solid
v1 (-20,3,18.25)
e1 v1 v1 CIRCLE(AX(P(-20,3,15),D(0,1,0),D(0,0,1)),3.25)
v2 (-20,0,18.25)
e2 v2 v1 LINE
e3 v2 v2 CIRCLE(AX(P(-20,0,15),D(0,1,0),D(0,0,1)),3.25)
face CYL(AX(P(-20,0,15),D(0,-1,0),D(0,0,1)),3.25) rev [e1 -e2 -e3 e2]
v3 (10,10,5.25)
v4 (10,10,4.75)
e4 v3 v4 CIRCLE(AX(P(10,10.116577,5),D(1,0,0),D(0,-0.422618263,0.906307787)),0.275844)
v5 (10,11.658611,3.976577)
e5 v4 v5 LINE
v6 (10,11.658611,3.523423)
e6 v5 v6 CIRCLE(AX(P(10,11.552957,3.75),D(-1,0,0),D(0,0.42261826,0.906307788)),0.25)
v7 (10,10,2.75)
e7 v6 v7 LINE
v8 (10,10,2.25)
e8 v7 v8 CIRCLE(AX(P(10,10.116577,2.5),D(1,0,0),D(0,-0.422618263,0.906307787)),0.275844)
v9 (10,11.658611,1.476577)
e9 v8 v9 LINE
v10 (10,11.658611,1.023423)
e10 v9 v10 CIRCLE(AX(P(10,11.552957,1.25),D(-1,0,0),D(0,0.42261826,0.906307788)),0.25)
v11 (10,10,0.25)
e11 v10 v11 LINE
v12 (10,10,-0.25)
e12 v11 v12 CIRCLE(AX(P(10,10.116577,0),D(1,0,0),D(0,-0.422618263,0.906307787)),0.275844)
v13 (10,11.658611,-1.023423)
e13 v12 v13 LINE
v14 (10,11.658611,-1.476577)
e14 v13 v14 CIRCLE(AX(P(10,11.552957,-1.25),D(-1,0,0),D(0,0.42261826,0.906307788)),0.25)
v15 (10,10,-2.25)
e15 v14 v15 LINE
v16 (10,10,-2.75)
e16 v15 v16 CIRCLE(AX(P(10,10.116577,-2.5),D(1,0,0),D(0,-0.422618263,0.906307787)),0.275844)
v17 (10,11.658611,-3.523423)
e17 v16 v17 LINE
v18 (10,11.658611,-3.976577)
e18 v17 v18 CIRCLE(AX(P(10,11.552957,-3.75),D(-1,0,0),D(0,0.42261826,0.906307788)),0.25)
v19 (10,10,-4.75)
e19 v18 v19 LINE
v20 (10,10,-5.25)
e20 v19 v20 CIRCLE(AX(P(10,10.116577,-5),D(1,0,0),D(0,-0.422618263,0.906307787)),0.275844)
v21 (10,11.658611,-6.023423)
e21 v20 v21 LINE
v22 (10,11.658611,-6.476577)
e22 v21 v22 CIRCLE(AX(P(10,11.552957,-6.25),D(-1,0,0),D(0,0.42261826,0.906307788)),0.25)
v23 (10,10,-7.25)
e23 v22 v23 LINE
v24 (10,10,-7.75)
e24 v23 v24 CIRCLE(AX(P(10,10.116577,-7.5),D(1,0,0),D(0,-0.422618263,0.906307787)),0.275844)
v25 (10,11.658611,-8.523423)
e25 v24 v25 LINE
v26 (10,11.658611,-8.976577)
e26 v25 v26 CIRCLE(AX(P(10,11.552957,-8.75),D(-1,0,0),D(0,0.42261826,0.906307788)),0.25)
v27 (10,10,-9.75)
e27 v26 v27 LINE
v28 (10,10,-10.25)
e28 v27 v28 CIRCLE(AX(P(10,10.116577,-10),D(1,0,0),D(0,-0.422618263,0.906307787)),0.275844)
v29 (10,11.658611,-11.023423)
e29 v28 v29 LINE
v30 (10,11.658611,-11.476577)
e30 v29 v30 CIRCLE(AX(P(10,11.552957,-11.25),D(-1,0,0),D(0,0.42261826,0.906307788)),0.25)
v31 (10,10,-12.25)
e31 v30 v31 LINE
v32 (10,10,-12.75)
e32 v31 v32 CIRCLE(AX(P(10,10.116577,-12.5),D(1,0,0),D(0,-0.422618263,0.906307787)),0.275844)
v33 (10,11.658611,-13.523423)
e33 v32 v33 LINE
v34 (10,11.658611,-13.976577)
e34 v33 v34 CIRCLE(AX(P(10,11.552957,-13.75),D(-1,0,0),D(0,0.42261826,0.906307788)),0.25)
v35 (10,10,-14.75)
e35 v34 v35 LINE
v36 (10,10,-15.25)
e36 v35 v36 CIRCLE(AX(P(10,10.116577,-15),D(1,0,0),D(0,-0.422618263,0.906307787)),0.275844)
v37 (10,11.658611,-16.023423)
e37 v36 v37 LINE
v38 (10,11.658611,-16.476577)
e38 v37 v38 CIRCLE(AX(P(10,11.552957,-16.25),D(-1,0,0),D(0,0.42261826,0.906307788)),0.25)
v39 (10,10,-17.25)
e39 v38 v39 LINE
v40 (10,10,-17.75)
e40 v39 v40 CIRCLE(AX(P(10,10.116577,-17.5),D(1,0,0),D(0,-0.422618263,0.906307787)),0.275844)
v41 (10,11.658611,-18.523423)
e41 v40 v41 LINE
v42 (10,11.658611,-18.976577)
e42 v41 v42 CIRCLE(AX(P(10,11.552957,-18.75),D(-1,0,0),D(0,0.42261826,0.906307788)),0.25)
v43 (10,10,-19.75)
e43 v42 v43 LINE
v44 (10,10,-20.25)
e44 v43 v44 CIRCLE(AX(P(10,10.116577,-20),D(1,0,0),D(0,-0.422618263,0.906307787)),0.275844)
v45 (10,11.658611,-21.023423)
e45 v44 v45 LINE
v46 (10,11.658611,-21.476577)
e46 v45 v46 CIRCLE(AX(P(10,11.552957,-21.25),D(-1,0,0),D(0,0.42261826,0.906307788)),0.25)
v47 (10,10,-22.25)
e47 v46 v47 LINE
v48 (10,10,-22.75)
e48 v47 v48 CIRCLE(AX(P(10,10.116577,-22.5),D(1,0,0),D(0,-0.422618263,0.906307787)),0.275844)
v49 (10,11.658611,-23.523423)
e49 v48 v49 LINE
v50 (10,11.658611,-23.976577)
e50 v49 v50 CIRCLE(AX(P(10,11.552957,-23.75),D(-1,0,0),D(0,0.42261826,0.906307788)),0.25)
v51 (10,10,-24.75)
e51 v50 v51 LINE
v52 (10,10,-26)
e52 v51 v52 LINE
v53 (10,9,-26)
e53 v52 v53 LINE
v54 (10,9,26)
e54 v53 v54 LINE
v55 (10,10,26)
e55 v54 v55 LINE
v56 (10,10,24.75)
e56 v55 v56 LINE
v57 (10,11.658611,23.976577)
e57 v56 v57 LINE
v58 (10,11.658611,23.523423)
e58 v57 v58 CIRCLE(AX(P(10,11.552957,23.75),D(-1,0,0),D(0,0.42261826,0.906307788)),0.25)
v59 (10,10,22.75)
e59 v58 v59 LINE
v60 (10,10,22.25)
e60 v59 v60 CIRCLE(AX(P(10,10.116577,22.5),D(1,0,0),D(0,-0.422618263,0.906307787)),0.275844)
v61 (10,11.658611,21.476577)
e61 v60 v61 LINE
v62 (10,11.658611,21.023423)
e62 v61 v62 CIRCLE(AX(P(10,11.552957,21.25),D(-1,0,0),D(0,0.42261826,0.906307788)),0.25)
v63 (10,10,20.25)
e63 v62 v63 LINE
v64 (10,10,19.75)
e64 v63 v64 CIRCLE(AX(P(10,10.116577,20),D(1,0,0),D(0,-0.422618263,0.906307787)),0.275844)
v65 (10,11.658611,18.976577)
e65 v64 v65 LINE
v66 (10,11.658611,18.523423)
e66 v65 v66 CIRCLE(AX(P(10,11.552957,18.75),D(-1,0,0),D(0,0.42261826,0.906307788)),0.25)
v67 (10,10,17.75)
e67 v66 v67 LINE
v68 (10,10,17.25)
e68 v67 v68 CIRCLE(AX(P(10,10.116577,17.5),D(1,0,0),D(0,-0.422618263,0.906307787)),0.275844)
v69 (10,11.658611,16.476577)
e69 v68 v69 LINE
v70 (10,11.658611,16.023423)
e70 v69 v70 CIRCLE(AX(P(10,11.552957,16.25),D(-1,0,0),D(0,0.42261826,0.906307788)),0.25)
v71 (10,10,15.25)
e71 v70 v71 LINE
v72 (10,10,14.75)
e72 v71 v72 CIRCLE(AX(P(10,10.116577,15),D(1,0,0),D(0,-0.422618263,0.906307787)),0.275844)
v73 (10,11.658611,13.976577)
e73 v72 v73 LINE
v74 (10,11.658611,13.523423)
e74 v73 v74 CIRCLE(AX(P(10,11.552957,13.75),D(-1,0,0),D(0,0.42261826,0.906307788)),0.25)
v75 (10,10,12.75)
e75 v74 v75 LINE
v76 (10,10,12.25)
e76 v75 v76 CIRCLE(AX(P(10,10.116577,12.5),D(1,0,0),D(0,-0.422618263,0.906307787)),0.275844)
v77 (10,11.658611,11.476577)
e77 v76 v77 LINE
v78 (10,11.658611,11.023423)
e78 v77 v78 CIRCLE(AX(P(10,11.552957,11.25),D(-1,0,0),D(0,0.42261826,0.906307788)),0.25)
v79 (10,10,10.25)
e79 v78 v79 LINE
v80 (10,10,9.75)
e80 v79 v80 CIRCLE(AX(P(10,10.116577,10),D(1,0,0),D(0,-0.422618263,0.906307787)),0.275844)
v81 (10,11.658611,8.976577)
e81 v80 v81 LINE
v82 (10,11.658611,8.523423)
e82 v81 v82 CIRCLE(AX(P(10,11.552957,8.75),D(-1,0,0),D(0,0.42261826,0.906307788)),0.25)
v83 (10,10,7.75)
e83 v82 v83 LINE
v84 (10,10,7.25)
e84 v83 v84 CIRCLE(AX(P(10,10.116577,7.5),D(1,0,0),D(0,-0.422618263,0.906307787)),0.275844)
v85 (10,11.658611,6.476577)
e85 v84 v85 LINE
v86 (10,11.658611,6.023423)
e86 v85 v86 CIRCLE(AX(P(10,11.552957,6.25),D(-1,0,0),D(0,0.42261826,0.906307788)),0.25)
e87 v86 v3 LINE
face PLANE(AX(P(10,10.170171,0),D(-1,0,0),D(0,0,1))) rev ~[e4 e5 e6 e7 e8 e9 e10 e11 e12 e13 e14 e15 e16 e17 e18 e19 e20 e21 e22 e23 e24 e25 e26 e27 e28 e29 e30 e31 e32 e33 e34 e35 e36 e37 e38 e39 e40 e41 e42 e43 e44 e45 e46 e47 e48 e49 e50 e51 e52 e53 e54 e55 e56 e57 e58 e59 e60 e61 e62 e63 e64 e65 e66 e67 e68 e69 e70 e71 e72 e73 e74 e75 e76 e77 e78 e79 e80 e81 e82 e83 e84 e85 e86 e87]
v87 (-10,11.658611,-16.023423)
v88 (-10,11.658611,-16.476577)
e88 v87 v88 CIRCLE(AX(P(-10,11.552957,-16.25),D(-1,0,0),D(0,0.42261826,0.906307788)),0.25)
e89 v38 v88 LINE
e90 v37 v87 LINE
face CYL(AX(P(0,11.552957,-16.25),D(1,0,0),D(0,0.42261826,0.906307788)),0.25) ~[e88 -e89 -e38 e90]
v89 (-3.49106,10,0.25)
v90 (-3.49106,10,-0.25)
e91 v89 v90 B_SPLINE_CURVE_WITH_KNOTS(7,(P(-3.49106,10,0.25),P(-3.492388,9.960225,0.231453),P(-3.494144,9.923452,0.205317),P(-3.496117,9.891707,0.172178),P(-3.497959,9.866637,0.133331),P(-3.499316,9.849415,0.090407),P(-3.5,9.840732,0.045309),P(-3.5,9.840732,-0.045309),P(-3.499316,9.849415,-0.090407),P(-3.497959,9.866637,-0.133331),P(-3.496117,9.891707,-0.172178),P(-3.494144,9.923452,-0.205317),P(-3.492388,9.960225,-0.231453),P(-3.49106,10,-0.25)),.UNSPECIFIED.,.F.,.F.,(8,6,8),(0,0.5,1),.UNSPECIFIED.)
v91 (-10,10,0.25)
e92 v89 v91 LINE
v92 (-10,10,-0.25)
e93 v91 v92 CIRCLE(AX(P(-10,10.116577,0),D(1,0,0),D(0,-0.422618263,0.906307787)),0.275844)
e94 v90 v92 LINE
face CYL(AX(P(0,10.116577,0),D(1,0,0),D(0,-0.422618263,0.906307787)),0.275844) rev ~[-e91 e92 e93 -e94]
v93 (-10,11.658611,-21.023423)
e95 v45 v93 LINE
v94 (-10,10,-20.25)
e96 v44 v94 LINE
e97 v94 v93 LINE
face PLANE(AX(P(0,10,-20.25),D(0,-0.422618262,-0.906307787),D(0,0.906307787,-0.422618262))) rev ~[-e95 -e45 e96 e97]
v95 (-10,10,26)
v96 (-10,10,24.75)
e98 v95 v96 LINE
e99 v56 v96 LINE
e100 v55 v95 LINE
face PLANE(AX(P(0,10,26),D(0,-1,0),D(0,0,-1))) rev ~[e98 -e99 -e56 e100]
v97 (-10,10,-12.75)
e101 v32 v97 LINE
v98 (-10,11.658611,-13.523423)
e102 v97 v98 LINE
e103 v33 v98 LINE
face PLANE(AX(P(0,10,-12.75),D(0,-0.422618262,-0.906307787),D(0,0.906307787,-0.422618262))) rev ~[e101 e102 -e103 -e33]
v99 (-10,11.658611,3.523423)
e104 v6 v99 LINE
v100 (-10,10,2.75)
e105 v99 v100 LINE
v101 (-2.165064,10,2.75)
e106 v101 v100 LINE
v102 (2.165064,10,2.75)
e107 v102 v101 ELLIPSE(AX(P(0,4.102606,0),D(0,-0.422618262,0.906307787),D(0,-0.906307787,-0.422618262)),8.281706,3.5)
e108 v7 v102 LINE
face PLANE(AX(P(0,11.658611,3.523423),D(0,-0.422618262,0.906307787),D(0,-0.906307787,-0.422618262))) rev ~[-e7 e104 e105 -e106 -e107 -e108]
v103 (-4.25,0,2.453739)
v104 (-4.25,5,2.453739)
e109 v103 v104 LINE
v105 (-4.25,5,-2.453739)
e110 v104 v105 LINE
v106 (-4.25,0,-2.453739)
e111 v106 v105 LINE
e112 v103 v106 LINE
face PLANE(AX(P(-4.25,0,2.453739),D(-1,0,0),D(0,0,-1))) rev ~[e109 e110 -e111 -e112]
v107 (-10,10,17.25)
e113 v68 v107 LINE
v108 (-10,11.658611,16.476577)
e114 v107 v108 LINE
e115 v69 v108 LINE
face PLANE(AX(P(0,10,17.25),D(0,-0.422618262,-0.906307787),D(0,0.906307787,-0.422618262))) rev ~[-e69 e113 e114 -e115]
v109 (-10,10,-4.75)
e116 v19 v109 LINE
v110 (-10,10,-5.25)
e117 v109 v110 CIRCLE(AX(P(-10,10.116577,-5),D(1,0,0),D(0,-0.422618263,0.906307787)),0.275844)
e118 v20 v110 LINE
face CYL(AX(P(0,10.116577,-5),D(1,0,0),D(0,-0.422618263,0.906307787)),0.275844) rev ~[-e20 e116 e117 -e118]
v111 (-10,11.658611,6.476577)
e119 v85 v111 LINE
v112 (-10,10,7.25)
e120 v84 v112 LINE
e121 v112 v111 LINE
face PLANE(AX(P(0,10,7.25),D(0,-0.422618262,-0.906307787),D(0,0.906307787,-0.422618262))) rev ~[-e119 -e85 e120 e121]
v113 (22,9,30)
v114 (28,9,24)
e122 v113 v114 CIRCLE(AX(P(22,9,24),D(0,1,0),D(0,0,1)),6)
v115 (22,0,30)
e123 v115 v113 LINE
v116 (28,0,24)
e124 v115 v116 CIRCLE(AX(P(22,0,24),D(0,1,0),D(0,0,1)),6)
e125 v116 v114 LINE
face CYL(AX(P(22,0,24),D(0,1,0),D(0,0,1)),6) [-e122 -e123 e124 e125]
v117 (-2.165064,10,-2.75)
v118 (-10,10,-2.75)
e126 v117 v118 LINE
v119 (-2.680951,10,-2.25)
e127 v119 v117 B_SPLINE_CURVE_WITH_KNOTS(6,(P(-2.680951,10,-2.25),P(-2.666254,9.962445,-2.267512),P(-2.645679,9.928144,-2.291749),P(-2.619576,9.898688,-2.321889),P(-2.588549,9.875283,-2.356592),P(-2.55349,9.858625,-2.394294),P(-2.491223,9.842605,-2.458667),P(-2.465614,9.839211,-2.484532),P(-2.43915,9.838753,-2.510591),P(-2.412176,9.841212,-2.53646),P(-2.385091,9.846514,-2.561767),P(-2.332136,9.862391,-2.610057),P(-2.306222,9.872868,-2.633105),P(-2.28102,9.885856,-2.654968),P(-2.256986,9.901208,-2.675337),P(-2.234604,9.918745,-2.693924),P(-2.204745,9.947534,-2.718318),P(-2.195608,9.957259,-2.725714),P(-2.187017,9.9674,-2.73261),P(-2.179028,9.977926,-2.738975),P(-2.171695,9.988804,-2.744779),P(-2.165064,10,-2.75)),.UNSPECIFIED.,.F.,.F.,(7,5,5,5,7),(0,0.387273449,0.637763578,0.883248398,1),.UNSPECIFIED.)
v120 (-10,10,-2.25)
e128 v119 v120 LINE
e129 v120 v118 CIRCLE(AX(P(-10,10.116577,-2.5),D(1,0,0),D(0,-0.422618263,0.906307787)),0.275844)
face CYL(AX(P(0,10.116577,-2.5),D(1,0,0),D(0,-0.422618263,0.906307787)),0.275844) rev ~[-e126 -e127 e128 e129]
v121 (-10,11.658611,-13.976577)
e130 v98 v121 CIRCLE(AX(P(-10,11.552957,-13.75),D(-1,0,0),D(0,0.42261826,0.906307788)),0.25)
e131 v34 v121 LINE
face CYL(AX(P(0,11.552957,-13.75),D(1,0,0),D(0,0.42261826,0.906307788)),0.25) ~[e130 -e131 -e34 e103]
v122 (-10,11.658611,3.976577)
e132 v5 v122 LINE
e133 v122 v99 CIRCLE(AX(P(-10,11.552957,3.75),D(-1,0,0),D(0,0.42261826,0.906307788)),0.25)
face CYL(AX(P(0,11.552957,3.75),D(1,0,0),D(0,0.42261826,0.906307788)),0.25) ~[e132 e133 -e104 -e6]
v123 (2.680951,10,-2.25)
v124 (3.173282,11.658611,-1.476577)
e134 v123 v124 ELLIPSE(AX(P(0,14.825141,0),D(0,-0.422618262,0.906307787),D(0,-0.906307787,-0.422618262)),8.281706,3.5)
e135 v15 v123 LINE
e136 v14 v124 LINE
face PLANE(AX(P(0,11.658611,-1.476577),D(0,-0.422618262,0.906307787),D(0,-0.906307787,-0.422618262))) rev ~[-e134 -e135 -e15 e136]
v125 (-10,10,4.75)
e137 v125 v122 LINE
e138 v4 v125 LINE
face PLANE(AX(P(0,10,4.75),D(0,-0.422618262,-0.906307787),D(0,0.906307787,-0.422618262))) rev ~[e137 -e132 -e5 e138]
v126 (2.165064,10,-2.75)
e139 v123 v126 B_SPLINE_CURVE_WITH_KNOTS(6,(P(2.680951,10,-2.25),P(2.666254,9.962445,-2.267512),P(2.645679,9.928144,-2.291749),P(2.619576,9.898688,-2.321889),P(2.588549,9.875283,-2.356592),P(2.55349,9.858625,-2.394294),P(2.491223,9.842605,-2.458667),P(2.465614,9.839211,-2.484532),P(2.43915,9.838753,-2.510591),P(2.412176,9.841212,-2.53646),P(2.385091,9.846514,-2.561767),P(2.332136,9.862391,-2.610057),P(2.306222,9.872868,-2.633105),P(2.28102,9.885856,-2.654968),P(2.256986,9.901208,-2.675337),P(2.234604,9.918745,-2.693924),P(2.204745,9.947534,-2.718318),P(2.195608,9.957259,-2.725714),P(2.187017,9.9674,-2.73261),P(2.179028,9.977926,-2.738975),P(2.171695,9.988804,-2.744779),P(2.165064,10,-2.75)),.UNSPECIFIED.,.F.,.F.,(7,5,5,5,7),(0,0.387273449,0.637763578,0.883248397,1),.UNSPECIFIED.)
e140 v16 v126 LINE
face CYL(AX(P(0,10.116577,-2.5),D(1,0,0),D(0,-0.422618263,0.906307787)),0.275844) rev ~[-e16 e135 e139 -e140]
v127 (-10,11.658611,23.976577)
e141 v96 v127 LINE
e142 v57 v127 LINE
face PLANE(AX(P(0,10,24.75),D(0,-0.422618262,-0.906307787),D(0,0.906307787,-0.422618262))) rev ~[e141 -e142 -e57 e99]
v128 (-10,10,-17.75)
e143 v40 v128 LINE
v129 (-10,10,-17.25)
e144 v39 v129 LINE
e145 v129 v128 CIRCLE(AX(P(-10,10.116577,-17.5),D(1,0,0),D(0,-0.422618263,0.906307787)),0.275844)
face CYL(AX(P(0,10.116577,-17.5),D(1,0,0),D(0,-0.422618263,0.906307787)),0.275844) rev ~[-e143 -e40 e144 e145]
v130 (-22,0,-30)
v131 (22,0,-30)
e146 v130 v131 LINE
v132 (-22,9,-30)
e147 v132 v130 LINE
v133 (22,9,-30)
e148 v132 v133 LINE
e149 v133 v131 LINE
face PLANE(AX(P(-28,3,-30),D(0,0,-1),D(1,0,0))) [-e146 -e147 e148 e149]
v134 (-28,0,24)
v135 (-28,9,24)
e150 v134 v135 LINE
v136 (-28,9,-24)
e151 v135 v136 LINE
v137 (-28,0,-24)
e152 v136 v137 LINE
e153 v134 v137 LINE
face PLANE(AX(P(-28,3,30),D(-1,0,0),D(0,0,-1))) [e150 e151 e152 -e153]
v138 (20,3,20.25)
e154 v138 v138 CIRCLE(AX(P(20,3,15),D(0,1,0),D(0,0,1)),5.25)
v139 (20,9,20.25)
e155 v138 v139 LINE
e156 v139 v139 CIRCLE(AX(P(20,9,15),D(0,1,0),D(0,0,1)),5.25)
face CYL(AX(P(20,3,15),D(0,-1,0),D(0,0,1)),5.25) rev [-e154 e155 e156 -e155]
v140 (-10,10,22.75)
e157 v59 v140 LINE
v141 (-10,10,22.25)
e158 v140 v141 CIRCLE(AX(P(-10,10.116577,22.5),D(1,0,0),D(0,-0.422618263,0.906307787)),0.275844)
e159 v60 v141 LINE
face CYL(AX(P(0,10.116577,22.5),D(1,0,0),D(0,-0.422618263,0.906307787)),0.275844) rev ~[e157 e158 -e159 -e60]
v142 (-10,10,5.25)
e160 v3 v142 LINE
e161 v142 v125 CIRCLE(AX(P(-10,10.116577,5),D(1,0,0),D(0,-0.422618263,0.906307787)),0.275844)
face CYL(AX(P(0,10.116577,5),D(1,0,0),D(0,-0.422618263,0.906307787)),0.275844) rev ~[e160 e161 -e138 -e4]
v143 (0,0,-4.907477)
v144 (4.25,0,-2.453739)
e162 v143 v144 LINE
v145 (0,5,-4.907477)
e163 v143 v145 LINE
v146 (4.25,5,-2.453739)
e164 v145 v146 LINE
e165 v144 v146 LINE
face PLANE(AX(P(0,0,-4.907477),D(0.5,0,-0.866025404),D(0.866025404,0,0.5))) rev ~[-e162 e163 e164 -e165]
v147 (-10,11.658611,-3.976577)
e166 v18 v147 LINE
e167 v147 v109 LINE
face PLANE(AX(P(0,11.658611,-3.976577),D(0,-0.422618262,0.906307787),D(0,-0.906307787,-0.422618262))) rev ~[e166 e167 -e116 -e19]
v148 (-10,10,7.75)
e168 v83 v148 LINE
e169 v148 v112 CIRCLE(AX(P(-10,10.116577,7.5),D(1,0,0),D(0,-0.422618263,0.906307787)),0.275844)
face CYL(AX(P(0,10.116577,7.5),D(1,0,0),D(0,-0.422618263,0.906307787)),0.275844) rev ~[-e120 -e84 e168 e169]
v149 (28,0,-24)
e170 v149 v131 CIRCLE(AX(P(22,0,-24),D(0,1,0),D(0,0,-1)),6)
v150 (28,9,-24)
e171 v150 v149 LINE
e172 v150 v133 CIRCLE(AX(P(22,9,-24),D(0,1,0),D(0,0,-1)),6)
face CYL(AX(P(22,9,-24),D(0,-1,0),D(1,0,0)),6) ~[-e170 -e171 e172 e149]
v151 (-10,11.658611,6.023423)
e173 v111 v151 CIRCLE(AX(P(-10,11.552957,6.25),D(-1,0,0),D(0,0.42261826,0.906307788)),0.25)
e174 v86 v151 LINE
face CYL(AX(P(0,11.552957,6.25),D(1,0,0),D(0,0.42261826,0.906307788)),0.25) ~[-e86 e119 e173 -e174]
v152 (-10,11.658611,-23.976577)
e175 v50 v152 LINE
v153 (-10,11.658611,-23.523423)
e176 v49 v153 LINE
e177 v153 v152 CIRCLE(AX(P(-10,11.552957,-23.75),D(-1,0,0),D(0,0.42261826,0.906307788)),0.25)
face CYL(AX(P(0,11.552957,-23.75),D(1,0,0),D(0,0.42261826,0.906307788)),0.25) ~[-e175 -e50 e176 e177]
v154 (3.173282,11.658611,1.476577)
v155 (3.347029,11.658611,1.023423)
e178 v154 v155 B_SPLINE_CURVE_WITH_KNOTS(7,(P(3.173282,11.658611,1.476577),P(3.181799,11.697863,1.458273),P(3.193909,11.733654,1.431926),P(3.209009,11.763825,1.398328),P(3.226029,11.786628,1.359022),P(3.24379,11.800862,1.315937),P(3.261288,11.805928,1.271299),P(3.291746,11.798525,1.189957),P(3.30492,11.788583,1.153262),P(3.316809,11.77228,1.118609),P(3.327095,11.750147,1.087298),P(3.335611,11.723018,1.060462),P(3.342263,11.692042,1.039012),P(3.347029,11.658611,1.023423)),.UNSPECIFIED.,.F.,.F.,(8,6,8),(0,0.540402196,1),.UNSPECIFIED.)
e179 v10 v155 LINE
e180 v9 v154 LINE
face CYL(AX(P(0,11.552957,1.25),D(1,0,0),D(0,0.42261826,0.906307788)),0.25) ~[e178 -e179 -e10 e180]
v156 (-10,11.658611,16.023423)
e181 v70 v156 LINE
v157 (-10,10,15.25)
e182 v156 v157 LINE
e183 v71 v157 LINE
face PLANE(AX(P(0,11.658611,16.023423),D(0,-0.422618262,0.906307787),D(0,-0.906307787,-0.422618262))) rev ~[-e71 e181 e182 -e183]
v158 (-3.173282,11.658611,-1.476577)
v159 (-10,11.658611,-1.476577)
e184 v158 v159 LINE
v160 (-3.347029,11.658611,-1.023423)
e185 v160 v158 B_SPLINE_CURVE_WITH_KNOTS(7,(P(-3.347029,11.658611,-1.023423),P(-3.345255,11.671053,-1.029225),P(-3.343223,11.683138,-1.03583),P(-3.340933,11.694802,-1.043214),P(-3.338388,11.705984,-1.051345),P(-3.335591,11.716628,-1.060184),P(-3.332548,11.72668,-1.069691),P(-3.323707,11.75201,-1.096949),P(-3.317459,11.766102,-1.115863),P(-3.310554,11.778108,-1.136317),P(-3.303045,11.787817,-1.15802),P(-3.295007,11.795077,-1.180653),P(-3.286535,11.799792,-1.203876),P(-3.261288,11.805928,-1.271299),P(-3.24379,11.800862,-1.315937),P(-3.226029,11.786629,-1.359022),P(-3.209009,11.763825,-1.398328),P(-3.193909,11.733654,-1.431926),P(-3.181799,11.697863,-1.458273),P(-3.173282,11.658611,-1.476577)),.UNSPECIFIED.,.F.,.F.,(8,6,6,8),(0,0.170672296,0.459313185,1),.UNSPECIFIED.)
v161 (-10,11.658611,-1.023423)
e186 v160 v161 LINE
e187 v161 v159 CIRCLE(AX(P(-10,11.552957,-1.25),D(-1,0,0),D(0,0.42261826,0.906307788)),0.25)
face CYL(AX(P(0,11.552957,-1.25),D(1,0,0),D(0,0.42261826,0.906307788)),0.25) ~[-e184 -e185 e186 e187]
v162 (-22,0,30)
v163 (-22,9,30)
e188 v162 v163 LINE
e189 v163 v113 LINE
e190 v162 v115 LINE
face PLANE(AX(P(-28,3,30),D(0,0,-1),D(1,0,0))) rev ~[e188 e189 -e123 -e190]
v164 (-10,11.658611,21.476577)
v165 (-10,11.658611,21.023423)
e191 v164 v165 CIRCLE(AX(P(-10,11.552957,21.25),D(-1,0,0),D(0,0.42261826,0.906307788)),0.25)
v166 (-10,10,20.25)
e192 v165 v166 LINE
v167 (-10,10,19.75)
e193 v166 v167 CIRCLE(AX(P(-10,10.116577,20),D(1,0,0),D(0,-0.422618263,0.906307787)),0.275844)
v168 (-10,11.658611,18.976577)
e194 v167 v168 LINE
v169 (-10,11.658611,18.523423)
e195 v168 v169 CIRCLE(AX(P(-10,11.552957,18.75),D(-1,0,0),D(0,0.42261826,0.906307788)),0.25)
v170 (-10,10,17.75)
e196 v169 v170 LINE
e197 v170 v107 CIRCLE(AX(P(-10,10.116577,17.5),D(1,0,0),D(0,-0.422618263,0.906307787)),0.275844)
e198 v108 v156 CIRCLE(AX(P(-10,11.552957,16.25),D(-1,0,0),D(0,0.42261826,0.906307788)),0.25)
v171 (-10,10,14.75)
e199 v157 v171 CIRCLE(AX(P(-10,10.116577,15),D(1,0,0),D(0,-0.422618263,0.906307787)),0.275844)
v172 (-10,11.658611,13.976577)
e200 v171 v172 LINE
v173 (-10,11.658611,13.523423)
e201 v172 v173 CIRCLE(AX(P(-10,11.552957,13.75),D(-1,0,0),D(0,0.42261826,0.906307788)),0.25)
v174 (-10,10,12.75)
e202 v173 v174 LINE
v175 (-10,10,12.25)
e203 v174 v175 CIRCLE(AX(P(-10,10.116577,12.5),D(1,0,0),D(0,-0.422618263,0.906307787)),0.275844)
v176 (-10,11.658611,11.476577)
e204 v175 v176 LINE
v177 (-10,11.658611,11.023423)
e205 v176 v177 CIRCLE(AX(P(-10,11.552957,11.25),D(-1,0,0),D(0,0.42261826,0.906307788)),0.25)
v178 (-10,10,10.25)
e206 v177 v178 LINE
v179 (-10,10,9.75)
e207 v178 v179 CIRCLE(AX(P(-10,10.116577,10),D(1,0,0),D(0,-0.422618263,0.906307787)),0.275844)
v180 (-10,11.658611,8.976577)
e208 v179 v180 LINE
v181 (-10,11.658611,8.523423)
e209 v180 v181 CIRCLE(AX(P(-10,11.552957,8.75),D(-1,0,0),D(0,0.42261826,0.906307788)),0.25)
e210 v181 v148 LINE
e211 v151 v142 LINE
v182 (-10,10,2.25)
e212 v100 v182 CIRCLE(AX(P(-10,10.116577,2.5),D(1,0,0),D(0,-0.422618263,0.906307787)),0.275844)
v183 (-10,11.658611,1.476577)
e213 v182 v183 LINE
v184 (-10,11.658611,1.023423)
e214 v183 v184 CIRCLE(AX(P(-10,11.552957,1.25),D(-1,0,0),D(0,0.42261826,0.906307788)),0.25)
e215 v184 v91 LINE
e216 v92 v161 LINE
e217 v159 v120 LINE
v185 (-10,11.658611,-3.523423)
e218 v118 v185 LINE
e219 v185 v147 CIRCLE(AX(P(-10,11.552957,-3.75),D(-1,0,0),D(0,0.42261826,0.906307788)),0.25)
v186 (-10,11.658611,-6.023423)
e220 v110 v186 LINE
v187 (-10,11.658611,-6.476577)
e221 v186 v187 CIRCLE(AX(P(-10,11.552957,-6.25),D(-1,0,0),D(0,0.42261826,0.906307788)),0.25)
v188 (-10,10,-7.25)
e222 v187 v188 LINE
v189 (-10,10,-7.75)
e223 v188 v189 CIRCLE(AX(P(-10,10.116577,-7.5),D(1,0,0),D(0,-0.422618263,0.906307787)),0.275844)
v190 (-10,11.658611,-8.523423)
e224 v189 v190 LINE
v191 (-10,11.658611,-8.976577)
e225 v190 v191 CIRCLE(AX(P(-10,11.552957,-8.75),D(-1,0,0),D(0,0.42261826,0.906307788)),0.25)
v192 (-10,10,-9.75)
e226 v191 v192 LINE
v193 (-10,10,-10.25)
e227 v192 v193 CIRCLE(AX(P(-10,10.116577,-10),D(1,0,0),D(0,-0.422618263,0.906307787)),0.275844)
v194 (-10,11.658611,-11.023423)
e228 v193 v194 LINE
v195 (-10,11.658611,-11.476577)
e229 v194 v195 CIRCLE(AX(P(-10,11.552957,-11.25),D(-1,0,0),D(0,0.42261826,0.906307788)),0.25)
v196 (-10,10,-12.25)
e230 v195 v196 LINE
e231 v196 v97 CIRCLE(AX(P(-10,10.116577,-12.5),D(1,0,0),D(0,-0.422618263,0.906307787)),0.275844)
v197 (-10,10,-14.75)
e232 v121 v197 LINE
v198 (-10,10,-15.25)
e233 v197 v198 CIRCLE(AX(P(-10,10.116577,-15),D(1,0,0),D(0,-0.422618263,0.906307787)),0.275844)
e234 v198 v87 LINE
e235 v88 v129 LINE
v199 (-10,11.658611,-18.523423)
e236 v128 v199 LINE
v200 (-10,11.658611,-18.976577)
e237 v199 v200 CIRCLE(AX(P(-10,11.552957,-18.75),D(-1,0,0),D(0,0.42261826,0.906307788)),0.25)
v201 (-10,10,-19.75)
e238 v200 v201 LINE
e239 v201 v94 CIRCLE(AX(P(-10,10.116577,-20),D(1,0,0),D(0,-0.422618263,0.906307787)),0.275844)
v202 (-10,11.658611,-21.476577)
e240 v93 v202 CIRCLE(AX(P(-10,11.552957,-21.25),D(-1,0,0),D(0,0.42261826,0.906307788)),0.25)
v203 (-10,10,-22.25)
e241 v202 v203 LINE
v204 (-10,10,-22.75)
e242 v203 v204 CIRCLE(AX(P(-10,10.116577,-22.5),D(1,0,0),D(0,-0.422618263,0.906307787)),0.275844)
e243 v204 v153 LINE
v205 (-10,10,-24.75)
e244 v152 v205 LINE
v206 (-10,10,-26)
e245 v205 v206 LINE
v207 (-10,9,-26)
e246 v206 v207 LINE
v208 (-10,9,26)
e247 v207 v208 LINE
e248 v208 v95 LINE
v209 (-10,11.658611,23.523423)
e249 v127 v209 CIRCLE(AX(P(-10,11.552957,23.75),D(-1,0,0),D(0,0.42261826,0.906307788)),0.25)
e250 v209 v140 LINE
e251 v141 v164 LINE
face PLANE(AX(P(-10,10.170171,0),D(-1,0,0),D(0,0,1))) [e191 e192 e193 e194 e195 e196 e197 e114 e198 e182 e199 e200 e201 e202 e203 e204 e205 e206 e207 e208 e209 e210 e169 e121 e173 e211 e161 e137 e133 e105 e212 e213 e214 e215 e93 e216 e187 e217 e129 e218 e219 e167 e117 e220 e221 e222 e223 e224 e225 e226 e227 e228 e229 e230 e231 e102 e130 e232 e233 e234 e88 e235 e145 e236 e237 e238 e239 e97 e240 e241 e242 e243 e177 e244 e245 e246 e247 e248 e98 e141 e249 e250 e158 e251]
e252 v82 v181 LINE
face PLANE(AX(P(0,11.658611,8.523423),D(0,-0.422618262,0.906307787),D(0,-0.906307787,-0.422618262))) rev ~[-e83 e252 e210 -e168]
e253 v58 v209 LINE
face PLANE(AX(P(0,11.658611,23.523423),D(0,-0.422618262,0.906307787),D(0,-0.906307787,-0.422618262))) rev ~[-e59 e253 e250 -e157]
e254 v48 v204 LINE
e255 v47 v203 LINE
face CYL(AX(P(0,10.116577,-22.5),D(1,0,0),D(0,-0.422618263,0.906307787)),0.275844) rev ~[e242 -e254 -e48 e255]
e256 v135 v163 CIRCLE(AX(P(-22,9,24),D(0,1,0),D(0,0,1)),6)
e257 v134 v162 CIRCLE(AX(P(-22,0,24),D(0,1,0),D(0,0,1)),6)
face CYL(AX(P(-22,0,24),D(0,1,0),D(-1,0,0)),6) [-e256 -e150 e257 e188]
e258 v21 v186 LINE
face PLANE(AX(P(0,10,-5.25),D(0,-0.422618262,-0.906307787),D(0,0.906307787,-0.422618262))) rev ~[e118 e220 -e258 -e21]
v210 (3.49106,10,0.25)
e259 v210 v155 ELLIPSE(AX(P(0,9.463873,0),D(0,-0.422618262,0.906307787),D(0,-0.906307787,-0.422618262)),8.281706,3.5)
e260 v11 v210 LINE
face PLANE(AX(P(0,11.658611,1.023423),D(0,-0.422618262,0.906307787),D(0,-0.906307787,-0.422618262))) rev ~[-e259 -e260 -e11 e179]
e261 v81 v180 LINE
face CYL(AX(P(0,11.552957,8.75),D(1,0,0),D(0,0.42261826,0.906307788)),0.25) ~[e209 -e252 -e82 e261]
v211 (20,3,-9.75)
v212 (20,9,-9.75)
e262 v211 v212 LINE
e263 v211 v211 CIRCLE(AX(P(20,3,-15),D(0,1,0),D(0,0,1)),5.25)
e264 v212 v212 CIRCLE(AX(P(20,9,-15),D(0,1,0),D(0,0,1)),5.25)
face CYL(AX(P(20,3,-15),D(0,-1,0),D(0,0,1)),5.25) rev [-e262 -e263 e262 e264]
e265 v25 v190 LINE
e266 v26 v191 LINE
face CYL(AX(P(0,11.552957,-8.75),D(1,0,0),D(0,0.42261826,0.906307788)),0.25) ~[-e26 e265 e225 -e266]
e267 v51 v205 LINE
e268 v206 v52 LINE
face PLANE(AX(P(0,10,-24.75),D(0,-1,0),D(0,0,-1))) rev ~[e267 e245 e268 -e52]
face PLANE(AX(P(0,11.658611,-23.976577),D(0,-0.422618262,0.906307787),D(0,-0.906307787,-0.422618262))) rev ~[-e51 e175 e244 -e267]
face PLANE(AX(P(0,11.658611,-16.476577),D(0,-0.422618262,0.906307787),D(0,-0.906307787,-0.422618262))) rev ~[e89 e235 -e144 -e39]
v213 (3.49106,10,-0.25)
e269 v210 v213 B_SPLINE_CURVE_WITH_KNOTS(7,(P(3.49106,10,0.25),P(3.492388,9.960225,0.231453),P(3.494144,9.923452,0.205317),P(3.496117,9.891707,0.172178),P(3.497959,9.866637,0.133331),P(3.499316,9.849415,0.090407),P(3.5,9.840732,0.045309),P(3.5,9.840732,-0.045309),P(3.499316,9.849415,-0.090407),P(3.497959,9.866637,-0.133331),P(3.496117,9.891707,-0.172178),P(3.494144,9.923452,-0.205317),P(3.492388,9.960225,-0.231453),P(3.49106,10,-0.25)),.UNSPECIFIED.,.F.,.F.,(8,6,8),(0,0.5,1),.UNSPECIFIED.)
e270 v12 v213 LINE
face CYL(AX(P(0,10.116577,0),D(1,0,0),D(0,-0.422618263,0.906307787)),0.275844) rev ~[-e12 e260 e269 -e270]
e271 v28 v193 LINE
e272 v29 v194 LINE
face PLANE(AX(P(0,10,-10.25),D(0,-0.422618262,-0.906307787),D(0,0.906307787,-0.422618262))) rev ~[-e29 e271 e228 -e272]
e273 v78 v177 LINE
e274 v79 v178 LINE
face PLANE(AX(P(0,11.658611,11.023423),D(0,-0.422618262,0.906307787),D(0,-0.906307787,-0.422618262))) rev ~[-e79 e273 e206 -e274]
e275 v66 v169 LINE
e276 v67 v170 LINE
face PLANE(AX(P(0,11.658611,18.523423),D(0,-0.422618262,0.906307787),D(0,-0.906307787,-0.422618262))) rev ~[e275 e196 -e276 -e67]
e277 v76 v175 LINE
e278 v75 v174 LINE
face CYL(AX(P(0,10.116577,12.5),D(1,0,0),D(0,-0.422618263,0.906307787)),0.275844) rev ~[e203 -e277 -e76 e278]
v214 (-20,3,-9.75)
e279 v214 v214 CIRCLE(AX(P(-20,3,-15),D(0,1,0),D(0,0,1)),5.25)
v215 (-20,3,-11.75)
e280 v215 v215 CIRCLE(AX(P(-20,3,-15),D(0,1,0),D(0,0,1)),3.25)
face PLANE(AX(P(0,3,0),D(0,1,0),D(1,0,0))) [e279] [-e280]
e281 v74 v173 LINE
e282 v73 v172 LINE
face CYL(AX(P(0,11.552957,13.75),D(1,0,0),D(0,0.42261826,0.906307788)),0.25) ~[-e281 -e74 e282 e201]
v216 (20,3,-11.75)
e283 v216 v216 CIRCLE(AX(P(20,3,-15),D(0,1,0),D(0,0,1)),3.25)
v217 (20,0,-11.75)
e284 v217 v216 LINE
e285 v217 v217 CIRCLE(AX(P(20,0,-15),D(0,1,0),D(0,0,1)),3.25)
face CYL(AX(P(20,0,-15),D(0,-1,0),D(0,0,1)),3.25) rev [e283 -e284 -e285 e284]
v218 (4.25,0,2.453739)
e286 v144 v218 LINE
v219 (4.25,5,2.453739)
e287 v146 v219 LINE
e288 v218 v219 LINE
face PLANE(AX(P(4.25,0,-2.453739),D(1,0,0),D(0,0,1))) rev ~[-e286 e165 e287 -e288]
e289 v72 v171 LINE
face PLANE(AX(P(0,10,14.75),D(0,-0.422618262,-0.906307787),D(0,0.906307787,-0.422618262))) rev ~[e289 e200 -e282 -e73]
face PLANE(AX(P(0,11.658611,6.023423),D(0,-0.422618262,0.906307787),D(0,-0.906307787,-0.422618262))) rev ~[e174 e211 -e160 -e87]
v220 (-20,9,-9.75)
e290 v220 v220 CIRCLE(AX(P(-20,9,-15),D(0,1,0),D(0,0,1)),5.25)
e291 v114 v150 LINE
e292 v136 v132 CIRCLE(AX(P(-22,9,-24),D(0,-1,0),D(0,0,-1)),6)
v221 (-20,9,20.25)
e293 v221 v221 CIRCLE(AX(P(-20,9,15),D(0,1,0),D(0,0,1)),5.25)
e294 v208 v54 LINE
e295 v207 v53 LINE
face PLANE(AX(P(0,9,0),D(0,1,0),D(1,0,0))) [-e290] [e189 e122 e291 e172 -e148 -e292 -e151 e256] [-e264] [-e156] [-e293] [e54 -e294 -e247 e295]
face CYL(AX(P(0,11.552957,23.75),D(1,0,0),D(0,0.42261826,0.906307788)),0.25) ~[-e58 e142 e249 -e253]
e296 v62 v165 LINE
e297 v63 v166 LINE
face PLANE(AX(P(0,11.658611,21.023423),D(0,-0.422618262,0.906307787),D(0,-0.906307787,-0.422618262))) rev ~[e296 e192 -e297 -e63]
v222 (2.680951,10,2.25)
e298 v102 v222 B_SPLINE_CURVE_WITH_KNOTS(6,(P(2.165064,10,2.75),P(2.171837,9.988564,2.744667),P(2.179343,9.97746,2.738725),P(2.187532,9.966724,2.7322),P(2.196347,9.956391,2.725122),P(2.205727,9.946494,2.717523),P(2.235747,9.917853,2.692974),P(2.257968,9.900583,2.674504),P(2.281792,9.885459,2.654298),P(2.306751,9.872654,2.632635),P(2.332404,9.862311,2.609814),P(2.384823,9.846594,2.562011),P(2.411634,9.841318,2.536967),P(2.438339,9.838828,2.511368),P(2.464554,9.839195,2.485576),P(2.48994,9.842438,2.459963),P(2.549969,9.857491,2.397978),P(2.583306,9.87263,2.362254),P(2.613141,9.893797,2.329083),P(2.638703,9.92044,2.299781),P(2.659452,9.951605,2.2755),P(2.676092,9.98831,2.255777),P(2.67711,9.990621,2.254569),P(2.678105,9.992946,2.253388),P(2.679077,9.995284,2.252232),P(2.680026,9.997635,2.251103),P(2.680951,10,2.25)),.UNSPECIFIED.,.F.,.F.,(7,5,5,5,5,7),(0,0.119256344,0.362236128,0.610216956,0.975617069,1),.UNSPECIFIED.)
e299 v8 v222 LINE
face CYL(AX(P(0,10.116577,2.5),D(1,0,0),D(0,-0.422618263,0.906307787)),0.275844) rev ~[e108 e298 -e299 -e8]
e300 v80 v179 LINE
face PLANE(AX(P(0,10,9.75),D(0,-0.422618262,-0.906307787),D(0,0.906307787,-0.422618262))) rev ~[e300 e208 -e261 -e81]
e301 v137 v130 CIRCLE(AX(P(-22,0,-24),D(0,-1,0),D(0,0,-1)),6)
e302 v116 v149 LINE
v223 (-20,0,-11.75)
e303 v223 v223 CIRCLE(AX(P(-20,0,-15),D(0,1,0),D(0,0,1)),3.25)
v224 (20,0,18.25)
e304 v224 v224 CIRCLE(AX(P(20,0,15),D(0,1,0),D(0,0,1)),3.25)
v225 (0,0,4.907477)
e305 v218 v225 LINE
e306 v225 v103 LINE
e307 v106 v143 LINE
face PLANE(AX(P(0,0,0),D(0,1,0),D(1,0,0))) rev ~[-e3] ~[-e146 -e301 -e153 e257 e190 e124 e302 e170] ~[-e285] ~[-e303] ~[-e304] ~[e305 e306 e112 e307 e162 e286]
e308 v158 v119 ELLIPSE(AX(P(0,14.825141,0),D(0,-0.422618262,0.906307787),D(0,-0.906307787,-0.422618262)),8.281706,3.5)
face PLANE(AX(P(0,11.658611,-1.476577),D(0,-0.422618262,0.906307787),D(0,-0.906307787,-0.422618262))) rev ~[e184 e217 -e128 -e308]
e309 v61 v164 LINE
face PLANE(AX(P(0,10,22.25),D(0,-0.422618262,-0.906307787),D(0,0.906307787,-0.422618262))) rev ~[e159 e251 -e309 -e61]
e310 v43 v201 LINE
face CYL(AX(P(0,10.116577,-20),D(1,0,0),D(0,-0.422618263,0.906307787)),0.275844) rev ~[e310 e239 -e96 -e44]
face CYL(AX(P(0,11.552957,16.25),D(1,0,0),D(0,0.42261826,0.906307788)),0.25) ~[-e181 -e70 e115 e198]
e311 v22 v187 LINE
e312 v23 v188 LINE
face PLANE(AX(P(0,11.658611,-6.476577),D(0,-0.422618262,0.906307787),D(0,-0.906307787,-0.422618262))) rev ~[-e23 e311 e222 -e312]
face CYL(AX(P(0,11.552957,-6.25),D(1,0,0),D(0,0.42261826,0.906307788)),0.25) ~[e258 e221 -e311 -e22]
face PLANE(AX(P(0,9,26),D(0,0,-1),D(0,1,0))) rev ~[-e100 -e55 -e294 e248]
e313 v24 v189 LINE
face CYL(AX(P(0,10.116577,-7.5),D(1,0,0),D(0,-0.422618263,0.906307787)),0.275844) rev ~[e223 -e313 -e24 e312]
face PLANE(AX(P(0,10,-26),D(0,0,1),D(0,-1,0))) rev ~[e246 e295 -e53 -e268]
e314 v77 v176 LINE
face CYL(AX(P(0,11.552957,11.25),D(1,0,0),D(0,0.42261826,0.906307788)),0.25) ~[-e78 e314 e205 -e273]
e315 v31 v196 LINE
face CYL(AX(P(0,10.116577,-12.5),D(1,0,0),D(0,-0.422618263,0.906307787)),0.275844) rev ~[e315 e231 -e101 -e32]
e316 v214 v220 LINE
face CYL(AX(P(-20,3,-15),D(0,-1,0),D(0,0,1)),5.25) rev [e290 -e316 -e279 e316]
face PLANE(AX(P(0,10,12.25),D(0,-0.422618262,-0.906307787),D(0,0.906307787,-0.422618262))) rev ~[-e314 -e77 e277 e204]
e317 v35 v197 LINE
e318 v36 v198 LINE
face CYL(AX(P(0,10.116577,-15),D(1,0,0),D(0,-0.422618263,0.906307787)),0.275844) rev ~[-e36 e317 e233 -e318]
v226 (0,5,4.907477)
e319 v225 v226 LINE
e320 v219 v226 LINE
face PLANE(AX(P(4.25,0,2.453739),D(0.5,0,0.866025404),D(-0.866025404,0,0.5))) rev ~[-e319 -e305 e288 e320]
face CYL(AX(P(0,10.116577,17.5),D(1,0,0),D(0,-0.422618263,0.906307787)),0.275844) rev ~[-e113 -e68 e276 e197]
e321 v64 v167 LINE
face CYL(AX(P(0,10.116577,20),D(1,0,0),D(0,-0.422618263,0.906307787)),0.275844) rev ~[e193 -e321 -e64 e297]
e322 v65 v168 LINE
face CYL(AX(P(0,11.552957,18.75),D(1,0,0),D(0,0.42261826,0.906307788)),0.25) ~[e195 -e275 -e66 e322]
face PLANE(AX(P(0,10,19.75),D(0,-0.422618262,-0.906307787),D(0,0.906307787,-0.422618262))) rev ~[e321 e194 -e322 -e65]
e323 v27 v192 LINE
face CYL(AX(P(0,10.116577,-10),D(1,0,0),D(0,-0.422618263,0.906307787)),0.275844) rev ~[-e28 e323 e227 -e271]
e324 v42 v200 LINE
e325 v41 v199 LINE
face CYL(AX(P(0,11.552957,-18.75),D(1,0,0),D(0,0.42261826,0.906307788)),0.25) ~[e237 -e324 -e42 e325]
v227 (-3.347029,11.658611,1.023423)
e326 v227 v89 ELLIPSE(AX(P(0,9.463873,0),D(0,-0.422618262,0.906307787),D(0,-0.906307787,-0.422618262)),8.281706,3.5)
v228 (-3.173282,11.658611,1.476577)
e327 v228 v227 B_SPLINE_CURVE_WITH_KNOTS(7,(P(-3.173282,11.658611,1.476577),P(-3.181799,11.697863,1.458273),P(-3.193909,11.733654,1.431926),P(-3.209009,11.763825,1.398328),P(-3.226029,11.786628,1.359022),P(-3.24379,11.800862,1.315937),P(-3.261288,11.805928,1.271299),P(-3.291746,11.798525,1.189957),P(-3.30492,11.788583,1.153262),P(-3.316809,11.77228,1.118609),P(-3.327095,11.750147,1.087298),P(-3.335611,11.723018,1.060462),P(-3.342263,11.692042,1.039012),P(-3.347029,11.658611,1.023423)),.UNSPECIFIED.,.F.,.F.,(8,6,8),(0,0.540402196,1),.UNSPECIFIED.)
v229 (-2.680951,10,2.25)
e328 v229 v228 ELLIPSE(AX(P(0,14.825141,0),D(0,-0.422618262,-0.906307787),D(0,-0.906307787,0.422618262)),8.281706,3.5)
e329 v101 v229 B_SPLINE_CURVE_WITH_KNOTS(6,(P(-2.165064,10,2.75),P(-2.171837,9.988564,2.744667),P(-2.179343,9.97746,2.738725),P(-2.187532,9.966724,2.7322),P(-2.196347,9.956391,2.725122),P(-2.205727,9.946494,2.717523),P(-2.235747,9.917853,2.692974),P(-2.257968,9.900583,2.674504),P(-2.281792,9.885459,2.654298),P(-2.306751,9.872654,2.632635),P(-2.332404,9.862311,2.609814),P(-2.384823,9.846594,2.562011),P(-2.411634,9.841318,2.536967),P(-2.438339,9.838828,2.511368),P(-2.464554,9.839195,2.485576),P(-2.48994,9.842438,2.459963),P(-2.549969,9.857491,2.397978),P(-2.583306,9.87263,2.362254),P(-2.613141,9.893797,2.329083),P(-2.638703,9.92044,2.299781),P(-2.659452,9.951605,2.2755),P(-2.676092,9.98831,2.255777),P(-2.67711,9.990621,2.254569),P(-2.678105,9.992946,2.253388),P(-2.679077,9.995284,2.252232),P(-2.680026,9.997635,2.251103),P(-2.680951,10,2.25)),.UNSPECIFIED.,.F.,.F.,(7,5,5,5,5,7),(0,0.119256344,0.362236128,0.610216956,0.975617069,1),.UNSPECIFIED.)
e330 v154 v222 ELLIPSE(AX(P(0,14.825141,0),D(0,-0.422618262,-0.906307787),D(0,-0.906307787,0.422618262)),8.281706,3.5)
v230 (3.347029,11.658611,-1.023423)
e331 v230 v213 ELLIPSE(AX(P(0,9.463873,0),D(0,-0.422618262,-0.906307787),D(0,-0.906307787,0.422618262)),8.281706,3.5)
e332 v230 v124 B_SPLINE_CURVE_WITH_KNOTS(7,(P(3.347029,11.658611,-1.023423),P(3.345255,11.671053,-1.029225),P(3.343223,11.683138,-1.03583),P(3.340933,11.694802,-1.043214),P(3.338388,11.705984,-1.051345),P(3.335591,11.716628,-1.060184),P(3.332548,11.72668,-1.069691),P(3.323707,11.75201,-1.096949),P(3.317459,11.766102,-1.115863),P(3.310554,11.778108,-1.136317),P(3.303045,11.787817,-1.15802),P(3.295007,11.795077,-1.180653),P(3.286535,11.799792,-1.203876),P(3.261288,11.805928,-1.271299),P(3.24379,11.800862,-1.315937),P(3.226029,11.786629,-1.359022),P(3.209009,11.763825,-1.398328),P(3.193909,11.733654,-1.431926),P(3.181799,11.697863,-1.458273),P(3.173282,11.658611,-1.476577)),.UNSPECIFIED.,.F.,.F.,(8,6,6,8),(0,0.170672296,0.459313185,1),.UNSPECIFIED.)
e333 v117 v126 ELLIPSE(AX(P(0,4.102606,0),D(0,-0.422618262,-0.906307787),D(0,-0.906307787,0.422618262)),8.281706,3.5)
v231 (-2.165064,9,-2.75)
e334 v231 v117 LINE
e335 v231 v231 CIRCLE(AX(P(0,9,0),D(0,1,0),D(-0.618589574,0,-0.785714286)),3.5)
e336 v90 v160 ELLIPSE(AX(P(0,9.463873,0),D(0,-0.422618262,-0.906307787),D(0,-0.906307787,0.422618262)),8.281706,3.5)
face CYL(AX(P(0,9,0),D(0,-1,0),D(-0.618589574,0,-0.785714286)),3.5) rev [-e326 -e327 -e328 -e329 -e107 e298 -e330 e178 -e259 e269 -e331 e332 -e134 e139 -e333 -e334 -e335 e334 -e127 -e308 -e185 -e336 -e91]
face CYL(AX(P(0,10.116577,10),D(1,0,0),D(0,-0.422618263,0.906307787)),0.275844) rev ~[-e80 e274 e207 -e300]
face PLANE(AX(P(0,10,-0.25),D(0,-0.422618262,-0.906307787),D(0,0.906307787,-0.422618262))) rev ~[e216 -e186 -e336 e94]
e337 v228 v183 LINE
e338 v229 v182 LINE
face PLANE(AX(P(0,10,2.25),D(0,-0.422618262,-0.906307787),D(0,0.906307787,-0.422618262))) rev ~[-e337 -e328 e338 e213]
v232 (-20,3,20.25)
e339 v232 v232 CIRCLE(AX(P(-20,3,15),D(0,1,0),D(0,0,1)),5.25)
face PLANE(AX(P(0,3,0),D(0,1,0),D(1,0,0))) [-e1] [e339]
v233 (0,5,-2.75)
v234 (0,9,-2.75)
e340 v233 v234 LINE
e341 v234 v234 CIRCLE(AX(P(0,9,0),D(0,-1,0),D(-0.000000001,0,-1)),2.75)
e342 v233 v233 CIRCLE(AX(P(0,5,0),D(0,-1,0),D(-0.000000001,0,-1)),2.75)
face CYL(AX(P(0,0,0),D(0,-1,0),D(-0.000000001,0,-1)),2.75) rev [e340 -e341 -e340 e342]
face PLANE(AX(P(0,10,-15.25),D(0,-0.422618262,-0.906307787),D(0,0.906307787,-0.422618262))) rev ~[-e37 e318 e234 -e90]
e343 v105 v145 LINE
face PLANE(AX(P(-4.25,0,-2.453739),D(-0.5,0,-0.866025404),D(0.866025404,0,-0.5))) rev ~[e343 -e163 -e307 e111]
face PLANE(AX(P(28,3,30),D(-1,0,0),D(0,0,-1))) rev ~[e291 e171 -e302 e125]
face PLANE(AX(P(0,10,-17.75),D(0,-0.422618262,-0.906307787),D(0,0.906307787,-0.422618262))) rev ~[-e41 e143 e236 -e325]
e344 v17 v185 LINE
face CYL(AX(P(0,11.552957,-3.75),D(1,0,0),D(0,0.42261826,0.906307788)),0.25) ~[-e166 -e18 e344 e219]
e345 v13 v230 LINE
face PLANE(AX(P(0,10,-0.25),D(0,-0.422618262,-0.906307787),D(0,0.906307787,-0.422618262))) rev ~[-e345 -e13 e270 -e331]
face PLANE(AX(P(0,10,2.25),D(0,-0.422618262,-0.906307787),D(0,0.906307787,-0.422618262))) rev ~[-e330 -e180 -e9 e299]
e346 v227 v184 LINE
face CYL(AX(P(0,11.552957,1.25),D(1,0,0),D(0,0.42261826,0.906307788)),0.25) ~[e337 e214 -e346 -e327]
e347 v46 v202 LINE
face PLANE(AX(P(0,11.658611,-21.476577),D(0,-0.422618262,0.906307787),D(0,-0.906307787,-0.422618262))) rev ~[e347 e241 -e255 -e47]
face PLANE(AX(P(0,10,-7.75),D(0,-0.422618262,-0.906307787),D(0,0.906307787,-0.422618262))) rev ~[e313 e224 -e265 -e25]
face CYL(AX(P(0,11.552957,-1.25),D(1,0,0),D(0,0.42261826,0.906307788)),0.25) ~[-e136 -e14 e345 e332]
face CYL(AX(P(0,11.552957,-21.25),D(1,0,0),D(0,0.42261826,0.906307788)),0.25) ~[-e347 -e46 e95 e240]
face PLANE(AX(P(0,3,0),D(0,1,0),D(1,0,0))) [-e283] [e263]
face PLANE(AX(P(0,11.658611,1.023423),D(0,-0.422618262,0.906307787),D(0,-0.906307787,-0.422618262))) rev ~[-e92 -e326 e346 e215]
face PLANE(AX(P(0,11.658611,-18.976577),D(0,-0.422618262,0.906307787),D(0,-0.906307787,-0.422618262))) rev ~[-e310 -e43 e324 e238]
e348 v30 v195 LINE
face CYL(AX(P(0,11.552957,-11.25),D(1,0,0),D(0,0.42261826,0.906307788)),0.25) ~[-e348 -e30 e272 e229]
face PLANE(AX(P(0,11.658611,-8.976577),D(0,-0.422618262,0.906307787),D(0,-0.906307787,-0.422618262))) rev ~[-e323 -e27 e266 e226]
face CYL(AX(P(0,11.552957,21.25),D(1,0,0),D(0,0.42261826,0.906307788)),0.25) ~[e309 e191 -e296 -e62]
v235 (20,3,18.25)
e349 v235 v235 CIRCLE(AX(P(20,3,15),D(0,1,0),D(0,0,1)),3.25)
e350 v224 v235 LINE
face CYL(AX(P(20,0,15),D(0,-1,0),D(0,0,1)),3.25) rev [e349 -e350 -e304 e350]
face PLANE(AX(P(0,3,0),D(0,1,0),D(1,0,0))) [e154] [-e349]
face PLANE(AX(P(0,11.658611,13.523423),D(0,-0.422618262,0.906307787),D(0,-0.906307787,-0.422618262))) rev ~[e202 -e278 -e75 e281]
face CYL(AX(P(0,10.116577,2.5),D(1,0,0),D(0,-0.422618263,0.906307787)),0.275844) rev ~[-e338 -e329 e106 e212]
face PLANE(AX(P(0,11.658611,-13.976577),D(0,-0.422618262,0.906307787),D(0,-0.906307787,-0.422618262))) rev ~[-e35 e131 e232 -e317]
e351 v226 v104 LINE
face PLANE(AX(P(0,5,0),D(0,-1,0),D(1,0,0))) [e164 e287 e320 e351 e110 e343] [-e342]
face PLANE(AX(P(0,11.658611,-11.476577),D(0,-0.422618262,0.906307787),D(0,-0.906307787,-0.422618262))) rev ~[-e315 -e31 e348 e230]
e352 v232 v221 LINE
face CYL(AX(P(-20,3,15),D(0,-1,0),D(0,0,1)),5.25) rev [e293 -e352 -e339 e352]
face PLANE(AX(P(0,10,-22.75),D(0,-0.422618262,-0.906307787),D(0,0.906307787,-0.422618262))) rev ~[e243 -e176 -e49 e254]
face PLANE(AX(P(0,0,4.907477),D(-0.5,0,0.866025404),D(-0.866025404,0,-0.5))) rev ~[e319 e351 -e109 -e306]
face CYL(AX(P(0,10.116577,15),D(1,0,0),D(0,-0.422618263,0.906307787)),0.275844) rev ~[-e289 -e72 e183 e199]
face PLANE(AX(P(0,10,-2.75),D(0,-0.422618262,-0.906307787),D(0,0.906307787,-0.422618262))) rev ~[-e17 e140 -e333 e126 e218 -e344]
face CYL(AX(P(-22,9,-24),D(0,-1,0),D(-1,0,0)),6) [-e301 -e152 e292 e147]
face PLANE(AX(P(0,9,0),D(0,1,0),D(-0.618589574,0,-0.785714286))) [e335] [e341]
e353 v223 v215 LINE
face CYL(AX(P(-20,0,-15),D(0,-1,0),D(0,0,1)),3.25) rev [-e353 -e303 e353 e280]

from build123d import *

# Parameters (mm, degrees)
SKETCH1_W           = 56
SKETCH1_H           = 60
SKETCH1_R           = 3.25
BOSS_EXTRUDE1_DEPTH = 3
SKETCH2_W           = 56
SKETCH2_H           = 60
SKETCH2_R           = 5.25
BOSS_EXTRUDE2_DEPTH = 6
FILLET1_R           = 6
BOSS_EXTRUDE3_DEPTH = 10
SKETCH4_R           = 2.75
CUT_EXTRUDE2_DEPTH  = 43.700231647
SKETCH5_R           = 3.5
CUT_EXTRUDE3_DEPTH  = 43.011903097
CUT_EXTRUDE4_DEPTH  = 5


with BuildPart() as part:
    # Sketch1 → Boss-Extrude1 (new body)
    with BuildSketch(Plane(origin=(0, 0, 0), x_dir=(1, 0, 0), z_dir=(0, 1, 0))):
        Rectangle(SKETCH1_W, SKETCH1_H)
        with Locations(Location((-20, 15, 0), (0, 0, 270))):
            Circle(SKETCH1_R, mode=Mode.SUBTRACT)
        with Locations(Location((-20, -15, 0), (0, 0, 270))):
            Circle(SKETCH1_R, mode=Mode.SUBTRACT)
        with Locations(Location((20, -15, 0), (0, 0, 270))):
            Circle(SKETCH1_R, mode=Mode.SUBTRACT)
        with Locations(Location((20, 15, 0), (0, 0, 270))):
            Circle(SKETCH1_R, mode=Mode.SUBTRACT)
    extrude(amount=BOSS_EXTRUDE1_DEPTH)

    # Sketch2 → Boss-Extrude2 (add)
    with BuildSketch(Plane(origin=(0, 3, 0), x_dir=(1, 0, 0), z_dir=(0, 1, 0))):
        Rectangle(SKETCH2_W, SKETCH2_H)
        with Locations(Location((-20, 15, 0), (0, 0, 270))):
            Circle(SKETCH2_R, mode=Mode.SUBTRACT)
        with Locations(Location((-20, -15, 0), (0, 0, 270))):
            Circle(SKETCH2_R, mode=Mode.SUBTRACT)
        with Locations(Location((20, -15, 0), (0, 0, 270))):
            Circle(SKETCH2_R, mode=Mode.SUBTRACT)
        with Locations(Location((20, 15, 0), (0, 0, 270))):
            Circle(SKETCH2_R, mode=Mode.SUBTRACT)
    extrude(amount=BOSS_EXTRUDE2_DEPTH)

    # Fillet1
    fillet1_edges = [part.edges().sort_by_distance(p)[0] for p in [
        (28, 4.5, 30),
        (-28, 4.5, 30),
        (-28, 4.5, -30),
        (28, 4.5, -30),
    ]]
    fillet(fillet1_edges, radius=FILLET1_R)

    # Sketch3 → Boss-Extrude3 (add, symmetric)
    with BuildSketch(Plane(origin=(0, 0, 0), x_dir=(0, 0, -1), z_dir=(1, 0, 0))):
        with BuildLine():
            Line((-26, 9), (-26, 10))
            Line((-26, 10), (-24.75, 10))
            Line((-24.75, 10), (-23.976576947, 11.65861109))
            ThreePointArc((-23.976576947, 11.65861109), (-23.75, 11.802956525), (-23.523423053, 11.65861109))
            Line((-23.523423053, 11.65861109), (-22.75, 10))
            ThreePointArc((-22.75, 10), (-22.5, 9.840732435), (-22.25, 10))
            Line((-22.25, 10), (-21.476576947, 11.65861109))
            ThreePointArc((-21.476576947, 11.65861109), (-21.25, 11.802956525), (-21.023423053, 11.65861109))
            Line((-21.023423053, 11.65861109), (-20.25, 10))
            ThreePointArc((-20.25, 10), (-20, 9.840732435), (-19.75, 10))
            Line((-19.75, 10), (-18.976576947, 11.65861109))
            ThreePointArc((-18.976576947, 11.65861109), (-18.75, 11.802956525), (-18.523423053, 11.65861109))
            Line((-18.523423053, 11.65861109), (-17.75, 10))
            ThreePointArc((-17.75, 10), (-17.5, 9.840732435), (-17.25, 10))
            Line((-17.25, 10), (-16.476576947, 11.65861109))
            ThreePointArc((-16.476576947, 11.65861109), (-16.25, 11.802956525), (-16.023423053, 11.65861109))
            Line((-16.023423053, 11.65861109), (-15.25, 10))
            ThreePointArc((-15.25, 10), (-15, 9.840732435), (-14.75, 10))
            Line((-14.75, 10), (-13.976576947, 11.65861109))
            ThreePointArc((-13.976576947, 11.65861109), (-13.75, 11.802956525), (-13.523423053, 11.65861109))
            Line((-13.523423053, 11.65861109), (-12.75, 10))
            ThreePointArc((-12.75, 10), (-12.5, 9.840732435), (-12.25, 10))
            Line((-12.25, 10), (-11.476576947, 11.65861109))
            ThreePointArc((-11.476576947, 11.65861109), (-11.25, 11.802956525), (-11.023423053, 11.65861109))
            Line((-11.023423053, 11.65861109), (-10.25, 10))
            ThreePointArc((-10.25, 10), (-10, 9.840732435), (-9.75, 10))
            Line((-9.75, 10), (-8.976576947, 11.65861109))
            ThreePointArc((-8.976576947, 11.65861109), (-8.75, 11.802956525), (-8.523423053, 11.65861109))
            Line((-8.523423053, 11.65861109), (-7.75, 10))
            ThreePointArc((-7.75, 10), (-7.5, 9.840732435), (-7.25, 10))
            Line((-7.25, 10), (-6.476576947, 11.65861109))
            ThreePointArc((-6.476576947, 11.65861109), (-6.25, 11.802956525), (-6.023423053, 11.65861109))
            Line((-6.023423053, 11.65861109), (-5.25, 10))
            ThreePointArc((-5.25, 10), (-5, 9.840732435), (-4.75, 10))
            Line((-4.75, 10), (-3.976576947, 11.65861109))
            ThreePointArc((-3.976576947, 11.65861109), (-3.75, 11.802956525), (-3.523423053, 11.65861109))
            Line((-3.523423053, 11.65861109), (-2.75, 10))
            ThreePointArc((-2.75, 10), (-2.5, 9.840732435), (-2.25, 10))
            Line((-2.25, 10), (-1.476576947, 11.65861109))
            ThreePointArc((-1.476576947, 11.65861109), (-1.25, 11.802956525), (-1.023423053, 11.65861109))
            Line((-1.023423053, 11.65861109), (-0.25, 10))
            ThreePointArc((-0.25, 10), (0, 9.840732435), (0.25, 10))
            Line((0.25, 10), (1.023423053, 11.65861109))
            ThreePointArc((1.023423053, 11.65861109), (1.25, 11.802956525), (1.476576947, 11.65861109))
            Line((1.476576947, 11.65861109), (2.25, 10))
            ThreePointArc((2.25, 10), (2.5, 9.840732435), (2.75, 10))
            Line((2.75, 10), (3.523423053, 11.65861109))
            ThreePointArc((3.523423053, 11.65861109), (3.75, 11.802956525), (3.976576947, 11.65861109))
            Line((3.976576947, 11.65861109), (4.75, 10))
            ThreePointArc((4.75, 10), (5, 9.840732435), (5.25, 10))
            Line((5.25, 10), (6.023423053, 11.65861109))
            ThreePointArc((6.023423053, 11.65861109), (6.25, 11.802956525), (6.476576947, 11.65861109))
            Line((6.476576947, 11.65861109), (7.25, 10))
            ThreePointArc((7.25, 10), (7.5, 9.840732435), (7.75, 10))
            Line((7.75, 10), (8.523423053, 11.65861109))
            ThreePointArc((8.523423053, 11.65861109), (8.75, 11.802956525), (8.976576947, 11.65861109))
            Line((8.976576947, 11.65861109), (9.75, 10))
            ThreePointArc((9.75, 10), (10, 9.840732435), (10.25, 10))
            Line((10.25, 10), (11.023423053, 11.65861109))
            ThreePointArc((11.023423053, 11.65861109), (11.25, 11.802956525), (11.476576947, 11.65861109))
            Line((11.476576947, 11.65861109), (12.25, 10))
            ThreePointArc((12.25, 10), (12.5, 9.840732435), (12.75, 10))
            Line((12.75, 10), (13.523423053, 11.65861109))
            ThreePointArc((13.523423053, 11.65861109), (13.75, 11.802956525), (13.976576947, 11.65861109))
            Line((13.976576947, 11.65861109), (14.75, 10))
            ThreePointArc((14.75, 10), (15, 9.840732435), (15.25, 10))
            Line((15.25, 10), (16.023423053, 11.65861109))
            ThreePointArc((16.023423053, 11.65861109), (16.25, 11.802956525), (16.476576947, 11.65861109))
            Line((16.476576947, 11.65861109), (17.25, 10))
            ThreePointArc((17.25, 10), (17.5, 9.840732435), (17.75, 10))
            Line((17.75, 10), (18.523423053, 11.65861109))
            ThreePointArc((18.523423053, 11.65861109), (18.75, 11.802956525), (18.976576947, 11.65861109))
            Line((18.976576947, 11.65861109), (19.75, 10))
            ThreePointArc((19.75, 10), (20, 9.840732435), (20.25, 10))
            Line((20.25, 10), (21.023423053, 11.65861109))
            ThreePointArc((21.023423053, 11.65861109), (21.25, 11.802956525), (21.476576947, 11.65861109))
            Line((21.476576947, 11.65861109), (22.25, 10))
            ThreePointArc((22.25, 10), (22.5, 9.840732435), (22.75, 10))
            Line((22.75, 10), (23.523423053, 11.65861109))
            ThreePointArc((23.523423053, 11.65861109), (23.75, 11.802956525), (23.976576947, 11.65861109))
            Line((23.976576947, 11.65861109), (24.75, 10))
            Line((24.75, 10), (26, 10))
            Line((26, 10), (26, 9))
            Line((26, 9), (-26, 9))
        make_face()
    extrude(amount=BOSS_EXTRUDE3_DEPTH, both=True)

    # Sketch4 → Cut-Extrude2 (cut, through all)
    with BuildSketch(Plane(origin=(0, 0, 0), x_dir=(1, 0, 0), z_dir=(0, 1, 0))):
        with Locations(Location((0, 0, 0), (0, 0, 90.000000079))):
            Circle(SKETCH4_R)
    extrude(amount=CUT_EXTRUDE2_DEPTH, mode=Mode.SUBTRACT)

    # Sketch5 → Cut-Extrude3 (cut, through all)
    with BuildSketch(Plane(origin=(0, 9, 0), x_dir=(1, 0, 0), z_dir=(0, 1, 0))):
        with Locations(Location((0, 0, 0), (0, 0, 128.213210702))):
            Circle(SKETCH5_R)
    extrude(amount=CUT_EXTRUDE3_DEPTH, mode=Mode.SUBTRACT)

    # Sketch6 → Cut-Extrude4 (cut)
    with BuildSketch(Plane.XZ):
        Polygon((4.25, -2.453738644), (4.25, 2.453738644), (0, 4.907477288), (-4.25, 2.453738644), (-4.25, -2.453738644), (0, -4.907477288), align=None)
    extrude(amount=-CUT_EXTRUDE4_DEPTH, mode=Mode.SUBTRACT)


solid = part.part
